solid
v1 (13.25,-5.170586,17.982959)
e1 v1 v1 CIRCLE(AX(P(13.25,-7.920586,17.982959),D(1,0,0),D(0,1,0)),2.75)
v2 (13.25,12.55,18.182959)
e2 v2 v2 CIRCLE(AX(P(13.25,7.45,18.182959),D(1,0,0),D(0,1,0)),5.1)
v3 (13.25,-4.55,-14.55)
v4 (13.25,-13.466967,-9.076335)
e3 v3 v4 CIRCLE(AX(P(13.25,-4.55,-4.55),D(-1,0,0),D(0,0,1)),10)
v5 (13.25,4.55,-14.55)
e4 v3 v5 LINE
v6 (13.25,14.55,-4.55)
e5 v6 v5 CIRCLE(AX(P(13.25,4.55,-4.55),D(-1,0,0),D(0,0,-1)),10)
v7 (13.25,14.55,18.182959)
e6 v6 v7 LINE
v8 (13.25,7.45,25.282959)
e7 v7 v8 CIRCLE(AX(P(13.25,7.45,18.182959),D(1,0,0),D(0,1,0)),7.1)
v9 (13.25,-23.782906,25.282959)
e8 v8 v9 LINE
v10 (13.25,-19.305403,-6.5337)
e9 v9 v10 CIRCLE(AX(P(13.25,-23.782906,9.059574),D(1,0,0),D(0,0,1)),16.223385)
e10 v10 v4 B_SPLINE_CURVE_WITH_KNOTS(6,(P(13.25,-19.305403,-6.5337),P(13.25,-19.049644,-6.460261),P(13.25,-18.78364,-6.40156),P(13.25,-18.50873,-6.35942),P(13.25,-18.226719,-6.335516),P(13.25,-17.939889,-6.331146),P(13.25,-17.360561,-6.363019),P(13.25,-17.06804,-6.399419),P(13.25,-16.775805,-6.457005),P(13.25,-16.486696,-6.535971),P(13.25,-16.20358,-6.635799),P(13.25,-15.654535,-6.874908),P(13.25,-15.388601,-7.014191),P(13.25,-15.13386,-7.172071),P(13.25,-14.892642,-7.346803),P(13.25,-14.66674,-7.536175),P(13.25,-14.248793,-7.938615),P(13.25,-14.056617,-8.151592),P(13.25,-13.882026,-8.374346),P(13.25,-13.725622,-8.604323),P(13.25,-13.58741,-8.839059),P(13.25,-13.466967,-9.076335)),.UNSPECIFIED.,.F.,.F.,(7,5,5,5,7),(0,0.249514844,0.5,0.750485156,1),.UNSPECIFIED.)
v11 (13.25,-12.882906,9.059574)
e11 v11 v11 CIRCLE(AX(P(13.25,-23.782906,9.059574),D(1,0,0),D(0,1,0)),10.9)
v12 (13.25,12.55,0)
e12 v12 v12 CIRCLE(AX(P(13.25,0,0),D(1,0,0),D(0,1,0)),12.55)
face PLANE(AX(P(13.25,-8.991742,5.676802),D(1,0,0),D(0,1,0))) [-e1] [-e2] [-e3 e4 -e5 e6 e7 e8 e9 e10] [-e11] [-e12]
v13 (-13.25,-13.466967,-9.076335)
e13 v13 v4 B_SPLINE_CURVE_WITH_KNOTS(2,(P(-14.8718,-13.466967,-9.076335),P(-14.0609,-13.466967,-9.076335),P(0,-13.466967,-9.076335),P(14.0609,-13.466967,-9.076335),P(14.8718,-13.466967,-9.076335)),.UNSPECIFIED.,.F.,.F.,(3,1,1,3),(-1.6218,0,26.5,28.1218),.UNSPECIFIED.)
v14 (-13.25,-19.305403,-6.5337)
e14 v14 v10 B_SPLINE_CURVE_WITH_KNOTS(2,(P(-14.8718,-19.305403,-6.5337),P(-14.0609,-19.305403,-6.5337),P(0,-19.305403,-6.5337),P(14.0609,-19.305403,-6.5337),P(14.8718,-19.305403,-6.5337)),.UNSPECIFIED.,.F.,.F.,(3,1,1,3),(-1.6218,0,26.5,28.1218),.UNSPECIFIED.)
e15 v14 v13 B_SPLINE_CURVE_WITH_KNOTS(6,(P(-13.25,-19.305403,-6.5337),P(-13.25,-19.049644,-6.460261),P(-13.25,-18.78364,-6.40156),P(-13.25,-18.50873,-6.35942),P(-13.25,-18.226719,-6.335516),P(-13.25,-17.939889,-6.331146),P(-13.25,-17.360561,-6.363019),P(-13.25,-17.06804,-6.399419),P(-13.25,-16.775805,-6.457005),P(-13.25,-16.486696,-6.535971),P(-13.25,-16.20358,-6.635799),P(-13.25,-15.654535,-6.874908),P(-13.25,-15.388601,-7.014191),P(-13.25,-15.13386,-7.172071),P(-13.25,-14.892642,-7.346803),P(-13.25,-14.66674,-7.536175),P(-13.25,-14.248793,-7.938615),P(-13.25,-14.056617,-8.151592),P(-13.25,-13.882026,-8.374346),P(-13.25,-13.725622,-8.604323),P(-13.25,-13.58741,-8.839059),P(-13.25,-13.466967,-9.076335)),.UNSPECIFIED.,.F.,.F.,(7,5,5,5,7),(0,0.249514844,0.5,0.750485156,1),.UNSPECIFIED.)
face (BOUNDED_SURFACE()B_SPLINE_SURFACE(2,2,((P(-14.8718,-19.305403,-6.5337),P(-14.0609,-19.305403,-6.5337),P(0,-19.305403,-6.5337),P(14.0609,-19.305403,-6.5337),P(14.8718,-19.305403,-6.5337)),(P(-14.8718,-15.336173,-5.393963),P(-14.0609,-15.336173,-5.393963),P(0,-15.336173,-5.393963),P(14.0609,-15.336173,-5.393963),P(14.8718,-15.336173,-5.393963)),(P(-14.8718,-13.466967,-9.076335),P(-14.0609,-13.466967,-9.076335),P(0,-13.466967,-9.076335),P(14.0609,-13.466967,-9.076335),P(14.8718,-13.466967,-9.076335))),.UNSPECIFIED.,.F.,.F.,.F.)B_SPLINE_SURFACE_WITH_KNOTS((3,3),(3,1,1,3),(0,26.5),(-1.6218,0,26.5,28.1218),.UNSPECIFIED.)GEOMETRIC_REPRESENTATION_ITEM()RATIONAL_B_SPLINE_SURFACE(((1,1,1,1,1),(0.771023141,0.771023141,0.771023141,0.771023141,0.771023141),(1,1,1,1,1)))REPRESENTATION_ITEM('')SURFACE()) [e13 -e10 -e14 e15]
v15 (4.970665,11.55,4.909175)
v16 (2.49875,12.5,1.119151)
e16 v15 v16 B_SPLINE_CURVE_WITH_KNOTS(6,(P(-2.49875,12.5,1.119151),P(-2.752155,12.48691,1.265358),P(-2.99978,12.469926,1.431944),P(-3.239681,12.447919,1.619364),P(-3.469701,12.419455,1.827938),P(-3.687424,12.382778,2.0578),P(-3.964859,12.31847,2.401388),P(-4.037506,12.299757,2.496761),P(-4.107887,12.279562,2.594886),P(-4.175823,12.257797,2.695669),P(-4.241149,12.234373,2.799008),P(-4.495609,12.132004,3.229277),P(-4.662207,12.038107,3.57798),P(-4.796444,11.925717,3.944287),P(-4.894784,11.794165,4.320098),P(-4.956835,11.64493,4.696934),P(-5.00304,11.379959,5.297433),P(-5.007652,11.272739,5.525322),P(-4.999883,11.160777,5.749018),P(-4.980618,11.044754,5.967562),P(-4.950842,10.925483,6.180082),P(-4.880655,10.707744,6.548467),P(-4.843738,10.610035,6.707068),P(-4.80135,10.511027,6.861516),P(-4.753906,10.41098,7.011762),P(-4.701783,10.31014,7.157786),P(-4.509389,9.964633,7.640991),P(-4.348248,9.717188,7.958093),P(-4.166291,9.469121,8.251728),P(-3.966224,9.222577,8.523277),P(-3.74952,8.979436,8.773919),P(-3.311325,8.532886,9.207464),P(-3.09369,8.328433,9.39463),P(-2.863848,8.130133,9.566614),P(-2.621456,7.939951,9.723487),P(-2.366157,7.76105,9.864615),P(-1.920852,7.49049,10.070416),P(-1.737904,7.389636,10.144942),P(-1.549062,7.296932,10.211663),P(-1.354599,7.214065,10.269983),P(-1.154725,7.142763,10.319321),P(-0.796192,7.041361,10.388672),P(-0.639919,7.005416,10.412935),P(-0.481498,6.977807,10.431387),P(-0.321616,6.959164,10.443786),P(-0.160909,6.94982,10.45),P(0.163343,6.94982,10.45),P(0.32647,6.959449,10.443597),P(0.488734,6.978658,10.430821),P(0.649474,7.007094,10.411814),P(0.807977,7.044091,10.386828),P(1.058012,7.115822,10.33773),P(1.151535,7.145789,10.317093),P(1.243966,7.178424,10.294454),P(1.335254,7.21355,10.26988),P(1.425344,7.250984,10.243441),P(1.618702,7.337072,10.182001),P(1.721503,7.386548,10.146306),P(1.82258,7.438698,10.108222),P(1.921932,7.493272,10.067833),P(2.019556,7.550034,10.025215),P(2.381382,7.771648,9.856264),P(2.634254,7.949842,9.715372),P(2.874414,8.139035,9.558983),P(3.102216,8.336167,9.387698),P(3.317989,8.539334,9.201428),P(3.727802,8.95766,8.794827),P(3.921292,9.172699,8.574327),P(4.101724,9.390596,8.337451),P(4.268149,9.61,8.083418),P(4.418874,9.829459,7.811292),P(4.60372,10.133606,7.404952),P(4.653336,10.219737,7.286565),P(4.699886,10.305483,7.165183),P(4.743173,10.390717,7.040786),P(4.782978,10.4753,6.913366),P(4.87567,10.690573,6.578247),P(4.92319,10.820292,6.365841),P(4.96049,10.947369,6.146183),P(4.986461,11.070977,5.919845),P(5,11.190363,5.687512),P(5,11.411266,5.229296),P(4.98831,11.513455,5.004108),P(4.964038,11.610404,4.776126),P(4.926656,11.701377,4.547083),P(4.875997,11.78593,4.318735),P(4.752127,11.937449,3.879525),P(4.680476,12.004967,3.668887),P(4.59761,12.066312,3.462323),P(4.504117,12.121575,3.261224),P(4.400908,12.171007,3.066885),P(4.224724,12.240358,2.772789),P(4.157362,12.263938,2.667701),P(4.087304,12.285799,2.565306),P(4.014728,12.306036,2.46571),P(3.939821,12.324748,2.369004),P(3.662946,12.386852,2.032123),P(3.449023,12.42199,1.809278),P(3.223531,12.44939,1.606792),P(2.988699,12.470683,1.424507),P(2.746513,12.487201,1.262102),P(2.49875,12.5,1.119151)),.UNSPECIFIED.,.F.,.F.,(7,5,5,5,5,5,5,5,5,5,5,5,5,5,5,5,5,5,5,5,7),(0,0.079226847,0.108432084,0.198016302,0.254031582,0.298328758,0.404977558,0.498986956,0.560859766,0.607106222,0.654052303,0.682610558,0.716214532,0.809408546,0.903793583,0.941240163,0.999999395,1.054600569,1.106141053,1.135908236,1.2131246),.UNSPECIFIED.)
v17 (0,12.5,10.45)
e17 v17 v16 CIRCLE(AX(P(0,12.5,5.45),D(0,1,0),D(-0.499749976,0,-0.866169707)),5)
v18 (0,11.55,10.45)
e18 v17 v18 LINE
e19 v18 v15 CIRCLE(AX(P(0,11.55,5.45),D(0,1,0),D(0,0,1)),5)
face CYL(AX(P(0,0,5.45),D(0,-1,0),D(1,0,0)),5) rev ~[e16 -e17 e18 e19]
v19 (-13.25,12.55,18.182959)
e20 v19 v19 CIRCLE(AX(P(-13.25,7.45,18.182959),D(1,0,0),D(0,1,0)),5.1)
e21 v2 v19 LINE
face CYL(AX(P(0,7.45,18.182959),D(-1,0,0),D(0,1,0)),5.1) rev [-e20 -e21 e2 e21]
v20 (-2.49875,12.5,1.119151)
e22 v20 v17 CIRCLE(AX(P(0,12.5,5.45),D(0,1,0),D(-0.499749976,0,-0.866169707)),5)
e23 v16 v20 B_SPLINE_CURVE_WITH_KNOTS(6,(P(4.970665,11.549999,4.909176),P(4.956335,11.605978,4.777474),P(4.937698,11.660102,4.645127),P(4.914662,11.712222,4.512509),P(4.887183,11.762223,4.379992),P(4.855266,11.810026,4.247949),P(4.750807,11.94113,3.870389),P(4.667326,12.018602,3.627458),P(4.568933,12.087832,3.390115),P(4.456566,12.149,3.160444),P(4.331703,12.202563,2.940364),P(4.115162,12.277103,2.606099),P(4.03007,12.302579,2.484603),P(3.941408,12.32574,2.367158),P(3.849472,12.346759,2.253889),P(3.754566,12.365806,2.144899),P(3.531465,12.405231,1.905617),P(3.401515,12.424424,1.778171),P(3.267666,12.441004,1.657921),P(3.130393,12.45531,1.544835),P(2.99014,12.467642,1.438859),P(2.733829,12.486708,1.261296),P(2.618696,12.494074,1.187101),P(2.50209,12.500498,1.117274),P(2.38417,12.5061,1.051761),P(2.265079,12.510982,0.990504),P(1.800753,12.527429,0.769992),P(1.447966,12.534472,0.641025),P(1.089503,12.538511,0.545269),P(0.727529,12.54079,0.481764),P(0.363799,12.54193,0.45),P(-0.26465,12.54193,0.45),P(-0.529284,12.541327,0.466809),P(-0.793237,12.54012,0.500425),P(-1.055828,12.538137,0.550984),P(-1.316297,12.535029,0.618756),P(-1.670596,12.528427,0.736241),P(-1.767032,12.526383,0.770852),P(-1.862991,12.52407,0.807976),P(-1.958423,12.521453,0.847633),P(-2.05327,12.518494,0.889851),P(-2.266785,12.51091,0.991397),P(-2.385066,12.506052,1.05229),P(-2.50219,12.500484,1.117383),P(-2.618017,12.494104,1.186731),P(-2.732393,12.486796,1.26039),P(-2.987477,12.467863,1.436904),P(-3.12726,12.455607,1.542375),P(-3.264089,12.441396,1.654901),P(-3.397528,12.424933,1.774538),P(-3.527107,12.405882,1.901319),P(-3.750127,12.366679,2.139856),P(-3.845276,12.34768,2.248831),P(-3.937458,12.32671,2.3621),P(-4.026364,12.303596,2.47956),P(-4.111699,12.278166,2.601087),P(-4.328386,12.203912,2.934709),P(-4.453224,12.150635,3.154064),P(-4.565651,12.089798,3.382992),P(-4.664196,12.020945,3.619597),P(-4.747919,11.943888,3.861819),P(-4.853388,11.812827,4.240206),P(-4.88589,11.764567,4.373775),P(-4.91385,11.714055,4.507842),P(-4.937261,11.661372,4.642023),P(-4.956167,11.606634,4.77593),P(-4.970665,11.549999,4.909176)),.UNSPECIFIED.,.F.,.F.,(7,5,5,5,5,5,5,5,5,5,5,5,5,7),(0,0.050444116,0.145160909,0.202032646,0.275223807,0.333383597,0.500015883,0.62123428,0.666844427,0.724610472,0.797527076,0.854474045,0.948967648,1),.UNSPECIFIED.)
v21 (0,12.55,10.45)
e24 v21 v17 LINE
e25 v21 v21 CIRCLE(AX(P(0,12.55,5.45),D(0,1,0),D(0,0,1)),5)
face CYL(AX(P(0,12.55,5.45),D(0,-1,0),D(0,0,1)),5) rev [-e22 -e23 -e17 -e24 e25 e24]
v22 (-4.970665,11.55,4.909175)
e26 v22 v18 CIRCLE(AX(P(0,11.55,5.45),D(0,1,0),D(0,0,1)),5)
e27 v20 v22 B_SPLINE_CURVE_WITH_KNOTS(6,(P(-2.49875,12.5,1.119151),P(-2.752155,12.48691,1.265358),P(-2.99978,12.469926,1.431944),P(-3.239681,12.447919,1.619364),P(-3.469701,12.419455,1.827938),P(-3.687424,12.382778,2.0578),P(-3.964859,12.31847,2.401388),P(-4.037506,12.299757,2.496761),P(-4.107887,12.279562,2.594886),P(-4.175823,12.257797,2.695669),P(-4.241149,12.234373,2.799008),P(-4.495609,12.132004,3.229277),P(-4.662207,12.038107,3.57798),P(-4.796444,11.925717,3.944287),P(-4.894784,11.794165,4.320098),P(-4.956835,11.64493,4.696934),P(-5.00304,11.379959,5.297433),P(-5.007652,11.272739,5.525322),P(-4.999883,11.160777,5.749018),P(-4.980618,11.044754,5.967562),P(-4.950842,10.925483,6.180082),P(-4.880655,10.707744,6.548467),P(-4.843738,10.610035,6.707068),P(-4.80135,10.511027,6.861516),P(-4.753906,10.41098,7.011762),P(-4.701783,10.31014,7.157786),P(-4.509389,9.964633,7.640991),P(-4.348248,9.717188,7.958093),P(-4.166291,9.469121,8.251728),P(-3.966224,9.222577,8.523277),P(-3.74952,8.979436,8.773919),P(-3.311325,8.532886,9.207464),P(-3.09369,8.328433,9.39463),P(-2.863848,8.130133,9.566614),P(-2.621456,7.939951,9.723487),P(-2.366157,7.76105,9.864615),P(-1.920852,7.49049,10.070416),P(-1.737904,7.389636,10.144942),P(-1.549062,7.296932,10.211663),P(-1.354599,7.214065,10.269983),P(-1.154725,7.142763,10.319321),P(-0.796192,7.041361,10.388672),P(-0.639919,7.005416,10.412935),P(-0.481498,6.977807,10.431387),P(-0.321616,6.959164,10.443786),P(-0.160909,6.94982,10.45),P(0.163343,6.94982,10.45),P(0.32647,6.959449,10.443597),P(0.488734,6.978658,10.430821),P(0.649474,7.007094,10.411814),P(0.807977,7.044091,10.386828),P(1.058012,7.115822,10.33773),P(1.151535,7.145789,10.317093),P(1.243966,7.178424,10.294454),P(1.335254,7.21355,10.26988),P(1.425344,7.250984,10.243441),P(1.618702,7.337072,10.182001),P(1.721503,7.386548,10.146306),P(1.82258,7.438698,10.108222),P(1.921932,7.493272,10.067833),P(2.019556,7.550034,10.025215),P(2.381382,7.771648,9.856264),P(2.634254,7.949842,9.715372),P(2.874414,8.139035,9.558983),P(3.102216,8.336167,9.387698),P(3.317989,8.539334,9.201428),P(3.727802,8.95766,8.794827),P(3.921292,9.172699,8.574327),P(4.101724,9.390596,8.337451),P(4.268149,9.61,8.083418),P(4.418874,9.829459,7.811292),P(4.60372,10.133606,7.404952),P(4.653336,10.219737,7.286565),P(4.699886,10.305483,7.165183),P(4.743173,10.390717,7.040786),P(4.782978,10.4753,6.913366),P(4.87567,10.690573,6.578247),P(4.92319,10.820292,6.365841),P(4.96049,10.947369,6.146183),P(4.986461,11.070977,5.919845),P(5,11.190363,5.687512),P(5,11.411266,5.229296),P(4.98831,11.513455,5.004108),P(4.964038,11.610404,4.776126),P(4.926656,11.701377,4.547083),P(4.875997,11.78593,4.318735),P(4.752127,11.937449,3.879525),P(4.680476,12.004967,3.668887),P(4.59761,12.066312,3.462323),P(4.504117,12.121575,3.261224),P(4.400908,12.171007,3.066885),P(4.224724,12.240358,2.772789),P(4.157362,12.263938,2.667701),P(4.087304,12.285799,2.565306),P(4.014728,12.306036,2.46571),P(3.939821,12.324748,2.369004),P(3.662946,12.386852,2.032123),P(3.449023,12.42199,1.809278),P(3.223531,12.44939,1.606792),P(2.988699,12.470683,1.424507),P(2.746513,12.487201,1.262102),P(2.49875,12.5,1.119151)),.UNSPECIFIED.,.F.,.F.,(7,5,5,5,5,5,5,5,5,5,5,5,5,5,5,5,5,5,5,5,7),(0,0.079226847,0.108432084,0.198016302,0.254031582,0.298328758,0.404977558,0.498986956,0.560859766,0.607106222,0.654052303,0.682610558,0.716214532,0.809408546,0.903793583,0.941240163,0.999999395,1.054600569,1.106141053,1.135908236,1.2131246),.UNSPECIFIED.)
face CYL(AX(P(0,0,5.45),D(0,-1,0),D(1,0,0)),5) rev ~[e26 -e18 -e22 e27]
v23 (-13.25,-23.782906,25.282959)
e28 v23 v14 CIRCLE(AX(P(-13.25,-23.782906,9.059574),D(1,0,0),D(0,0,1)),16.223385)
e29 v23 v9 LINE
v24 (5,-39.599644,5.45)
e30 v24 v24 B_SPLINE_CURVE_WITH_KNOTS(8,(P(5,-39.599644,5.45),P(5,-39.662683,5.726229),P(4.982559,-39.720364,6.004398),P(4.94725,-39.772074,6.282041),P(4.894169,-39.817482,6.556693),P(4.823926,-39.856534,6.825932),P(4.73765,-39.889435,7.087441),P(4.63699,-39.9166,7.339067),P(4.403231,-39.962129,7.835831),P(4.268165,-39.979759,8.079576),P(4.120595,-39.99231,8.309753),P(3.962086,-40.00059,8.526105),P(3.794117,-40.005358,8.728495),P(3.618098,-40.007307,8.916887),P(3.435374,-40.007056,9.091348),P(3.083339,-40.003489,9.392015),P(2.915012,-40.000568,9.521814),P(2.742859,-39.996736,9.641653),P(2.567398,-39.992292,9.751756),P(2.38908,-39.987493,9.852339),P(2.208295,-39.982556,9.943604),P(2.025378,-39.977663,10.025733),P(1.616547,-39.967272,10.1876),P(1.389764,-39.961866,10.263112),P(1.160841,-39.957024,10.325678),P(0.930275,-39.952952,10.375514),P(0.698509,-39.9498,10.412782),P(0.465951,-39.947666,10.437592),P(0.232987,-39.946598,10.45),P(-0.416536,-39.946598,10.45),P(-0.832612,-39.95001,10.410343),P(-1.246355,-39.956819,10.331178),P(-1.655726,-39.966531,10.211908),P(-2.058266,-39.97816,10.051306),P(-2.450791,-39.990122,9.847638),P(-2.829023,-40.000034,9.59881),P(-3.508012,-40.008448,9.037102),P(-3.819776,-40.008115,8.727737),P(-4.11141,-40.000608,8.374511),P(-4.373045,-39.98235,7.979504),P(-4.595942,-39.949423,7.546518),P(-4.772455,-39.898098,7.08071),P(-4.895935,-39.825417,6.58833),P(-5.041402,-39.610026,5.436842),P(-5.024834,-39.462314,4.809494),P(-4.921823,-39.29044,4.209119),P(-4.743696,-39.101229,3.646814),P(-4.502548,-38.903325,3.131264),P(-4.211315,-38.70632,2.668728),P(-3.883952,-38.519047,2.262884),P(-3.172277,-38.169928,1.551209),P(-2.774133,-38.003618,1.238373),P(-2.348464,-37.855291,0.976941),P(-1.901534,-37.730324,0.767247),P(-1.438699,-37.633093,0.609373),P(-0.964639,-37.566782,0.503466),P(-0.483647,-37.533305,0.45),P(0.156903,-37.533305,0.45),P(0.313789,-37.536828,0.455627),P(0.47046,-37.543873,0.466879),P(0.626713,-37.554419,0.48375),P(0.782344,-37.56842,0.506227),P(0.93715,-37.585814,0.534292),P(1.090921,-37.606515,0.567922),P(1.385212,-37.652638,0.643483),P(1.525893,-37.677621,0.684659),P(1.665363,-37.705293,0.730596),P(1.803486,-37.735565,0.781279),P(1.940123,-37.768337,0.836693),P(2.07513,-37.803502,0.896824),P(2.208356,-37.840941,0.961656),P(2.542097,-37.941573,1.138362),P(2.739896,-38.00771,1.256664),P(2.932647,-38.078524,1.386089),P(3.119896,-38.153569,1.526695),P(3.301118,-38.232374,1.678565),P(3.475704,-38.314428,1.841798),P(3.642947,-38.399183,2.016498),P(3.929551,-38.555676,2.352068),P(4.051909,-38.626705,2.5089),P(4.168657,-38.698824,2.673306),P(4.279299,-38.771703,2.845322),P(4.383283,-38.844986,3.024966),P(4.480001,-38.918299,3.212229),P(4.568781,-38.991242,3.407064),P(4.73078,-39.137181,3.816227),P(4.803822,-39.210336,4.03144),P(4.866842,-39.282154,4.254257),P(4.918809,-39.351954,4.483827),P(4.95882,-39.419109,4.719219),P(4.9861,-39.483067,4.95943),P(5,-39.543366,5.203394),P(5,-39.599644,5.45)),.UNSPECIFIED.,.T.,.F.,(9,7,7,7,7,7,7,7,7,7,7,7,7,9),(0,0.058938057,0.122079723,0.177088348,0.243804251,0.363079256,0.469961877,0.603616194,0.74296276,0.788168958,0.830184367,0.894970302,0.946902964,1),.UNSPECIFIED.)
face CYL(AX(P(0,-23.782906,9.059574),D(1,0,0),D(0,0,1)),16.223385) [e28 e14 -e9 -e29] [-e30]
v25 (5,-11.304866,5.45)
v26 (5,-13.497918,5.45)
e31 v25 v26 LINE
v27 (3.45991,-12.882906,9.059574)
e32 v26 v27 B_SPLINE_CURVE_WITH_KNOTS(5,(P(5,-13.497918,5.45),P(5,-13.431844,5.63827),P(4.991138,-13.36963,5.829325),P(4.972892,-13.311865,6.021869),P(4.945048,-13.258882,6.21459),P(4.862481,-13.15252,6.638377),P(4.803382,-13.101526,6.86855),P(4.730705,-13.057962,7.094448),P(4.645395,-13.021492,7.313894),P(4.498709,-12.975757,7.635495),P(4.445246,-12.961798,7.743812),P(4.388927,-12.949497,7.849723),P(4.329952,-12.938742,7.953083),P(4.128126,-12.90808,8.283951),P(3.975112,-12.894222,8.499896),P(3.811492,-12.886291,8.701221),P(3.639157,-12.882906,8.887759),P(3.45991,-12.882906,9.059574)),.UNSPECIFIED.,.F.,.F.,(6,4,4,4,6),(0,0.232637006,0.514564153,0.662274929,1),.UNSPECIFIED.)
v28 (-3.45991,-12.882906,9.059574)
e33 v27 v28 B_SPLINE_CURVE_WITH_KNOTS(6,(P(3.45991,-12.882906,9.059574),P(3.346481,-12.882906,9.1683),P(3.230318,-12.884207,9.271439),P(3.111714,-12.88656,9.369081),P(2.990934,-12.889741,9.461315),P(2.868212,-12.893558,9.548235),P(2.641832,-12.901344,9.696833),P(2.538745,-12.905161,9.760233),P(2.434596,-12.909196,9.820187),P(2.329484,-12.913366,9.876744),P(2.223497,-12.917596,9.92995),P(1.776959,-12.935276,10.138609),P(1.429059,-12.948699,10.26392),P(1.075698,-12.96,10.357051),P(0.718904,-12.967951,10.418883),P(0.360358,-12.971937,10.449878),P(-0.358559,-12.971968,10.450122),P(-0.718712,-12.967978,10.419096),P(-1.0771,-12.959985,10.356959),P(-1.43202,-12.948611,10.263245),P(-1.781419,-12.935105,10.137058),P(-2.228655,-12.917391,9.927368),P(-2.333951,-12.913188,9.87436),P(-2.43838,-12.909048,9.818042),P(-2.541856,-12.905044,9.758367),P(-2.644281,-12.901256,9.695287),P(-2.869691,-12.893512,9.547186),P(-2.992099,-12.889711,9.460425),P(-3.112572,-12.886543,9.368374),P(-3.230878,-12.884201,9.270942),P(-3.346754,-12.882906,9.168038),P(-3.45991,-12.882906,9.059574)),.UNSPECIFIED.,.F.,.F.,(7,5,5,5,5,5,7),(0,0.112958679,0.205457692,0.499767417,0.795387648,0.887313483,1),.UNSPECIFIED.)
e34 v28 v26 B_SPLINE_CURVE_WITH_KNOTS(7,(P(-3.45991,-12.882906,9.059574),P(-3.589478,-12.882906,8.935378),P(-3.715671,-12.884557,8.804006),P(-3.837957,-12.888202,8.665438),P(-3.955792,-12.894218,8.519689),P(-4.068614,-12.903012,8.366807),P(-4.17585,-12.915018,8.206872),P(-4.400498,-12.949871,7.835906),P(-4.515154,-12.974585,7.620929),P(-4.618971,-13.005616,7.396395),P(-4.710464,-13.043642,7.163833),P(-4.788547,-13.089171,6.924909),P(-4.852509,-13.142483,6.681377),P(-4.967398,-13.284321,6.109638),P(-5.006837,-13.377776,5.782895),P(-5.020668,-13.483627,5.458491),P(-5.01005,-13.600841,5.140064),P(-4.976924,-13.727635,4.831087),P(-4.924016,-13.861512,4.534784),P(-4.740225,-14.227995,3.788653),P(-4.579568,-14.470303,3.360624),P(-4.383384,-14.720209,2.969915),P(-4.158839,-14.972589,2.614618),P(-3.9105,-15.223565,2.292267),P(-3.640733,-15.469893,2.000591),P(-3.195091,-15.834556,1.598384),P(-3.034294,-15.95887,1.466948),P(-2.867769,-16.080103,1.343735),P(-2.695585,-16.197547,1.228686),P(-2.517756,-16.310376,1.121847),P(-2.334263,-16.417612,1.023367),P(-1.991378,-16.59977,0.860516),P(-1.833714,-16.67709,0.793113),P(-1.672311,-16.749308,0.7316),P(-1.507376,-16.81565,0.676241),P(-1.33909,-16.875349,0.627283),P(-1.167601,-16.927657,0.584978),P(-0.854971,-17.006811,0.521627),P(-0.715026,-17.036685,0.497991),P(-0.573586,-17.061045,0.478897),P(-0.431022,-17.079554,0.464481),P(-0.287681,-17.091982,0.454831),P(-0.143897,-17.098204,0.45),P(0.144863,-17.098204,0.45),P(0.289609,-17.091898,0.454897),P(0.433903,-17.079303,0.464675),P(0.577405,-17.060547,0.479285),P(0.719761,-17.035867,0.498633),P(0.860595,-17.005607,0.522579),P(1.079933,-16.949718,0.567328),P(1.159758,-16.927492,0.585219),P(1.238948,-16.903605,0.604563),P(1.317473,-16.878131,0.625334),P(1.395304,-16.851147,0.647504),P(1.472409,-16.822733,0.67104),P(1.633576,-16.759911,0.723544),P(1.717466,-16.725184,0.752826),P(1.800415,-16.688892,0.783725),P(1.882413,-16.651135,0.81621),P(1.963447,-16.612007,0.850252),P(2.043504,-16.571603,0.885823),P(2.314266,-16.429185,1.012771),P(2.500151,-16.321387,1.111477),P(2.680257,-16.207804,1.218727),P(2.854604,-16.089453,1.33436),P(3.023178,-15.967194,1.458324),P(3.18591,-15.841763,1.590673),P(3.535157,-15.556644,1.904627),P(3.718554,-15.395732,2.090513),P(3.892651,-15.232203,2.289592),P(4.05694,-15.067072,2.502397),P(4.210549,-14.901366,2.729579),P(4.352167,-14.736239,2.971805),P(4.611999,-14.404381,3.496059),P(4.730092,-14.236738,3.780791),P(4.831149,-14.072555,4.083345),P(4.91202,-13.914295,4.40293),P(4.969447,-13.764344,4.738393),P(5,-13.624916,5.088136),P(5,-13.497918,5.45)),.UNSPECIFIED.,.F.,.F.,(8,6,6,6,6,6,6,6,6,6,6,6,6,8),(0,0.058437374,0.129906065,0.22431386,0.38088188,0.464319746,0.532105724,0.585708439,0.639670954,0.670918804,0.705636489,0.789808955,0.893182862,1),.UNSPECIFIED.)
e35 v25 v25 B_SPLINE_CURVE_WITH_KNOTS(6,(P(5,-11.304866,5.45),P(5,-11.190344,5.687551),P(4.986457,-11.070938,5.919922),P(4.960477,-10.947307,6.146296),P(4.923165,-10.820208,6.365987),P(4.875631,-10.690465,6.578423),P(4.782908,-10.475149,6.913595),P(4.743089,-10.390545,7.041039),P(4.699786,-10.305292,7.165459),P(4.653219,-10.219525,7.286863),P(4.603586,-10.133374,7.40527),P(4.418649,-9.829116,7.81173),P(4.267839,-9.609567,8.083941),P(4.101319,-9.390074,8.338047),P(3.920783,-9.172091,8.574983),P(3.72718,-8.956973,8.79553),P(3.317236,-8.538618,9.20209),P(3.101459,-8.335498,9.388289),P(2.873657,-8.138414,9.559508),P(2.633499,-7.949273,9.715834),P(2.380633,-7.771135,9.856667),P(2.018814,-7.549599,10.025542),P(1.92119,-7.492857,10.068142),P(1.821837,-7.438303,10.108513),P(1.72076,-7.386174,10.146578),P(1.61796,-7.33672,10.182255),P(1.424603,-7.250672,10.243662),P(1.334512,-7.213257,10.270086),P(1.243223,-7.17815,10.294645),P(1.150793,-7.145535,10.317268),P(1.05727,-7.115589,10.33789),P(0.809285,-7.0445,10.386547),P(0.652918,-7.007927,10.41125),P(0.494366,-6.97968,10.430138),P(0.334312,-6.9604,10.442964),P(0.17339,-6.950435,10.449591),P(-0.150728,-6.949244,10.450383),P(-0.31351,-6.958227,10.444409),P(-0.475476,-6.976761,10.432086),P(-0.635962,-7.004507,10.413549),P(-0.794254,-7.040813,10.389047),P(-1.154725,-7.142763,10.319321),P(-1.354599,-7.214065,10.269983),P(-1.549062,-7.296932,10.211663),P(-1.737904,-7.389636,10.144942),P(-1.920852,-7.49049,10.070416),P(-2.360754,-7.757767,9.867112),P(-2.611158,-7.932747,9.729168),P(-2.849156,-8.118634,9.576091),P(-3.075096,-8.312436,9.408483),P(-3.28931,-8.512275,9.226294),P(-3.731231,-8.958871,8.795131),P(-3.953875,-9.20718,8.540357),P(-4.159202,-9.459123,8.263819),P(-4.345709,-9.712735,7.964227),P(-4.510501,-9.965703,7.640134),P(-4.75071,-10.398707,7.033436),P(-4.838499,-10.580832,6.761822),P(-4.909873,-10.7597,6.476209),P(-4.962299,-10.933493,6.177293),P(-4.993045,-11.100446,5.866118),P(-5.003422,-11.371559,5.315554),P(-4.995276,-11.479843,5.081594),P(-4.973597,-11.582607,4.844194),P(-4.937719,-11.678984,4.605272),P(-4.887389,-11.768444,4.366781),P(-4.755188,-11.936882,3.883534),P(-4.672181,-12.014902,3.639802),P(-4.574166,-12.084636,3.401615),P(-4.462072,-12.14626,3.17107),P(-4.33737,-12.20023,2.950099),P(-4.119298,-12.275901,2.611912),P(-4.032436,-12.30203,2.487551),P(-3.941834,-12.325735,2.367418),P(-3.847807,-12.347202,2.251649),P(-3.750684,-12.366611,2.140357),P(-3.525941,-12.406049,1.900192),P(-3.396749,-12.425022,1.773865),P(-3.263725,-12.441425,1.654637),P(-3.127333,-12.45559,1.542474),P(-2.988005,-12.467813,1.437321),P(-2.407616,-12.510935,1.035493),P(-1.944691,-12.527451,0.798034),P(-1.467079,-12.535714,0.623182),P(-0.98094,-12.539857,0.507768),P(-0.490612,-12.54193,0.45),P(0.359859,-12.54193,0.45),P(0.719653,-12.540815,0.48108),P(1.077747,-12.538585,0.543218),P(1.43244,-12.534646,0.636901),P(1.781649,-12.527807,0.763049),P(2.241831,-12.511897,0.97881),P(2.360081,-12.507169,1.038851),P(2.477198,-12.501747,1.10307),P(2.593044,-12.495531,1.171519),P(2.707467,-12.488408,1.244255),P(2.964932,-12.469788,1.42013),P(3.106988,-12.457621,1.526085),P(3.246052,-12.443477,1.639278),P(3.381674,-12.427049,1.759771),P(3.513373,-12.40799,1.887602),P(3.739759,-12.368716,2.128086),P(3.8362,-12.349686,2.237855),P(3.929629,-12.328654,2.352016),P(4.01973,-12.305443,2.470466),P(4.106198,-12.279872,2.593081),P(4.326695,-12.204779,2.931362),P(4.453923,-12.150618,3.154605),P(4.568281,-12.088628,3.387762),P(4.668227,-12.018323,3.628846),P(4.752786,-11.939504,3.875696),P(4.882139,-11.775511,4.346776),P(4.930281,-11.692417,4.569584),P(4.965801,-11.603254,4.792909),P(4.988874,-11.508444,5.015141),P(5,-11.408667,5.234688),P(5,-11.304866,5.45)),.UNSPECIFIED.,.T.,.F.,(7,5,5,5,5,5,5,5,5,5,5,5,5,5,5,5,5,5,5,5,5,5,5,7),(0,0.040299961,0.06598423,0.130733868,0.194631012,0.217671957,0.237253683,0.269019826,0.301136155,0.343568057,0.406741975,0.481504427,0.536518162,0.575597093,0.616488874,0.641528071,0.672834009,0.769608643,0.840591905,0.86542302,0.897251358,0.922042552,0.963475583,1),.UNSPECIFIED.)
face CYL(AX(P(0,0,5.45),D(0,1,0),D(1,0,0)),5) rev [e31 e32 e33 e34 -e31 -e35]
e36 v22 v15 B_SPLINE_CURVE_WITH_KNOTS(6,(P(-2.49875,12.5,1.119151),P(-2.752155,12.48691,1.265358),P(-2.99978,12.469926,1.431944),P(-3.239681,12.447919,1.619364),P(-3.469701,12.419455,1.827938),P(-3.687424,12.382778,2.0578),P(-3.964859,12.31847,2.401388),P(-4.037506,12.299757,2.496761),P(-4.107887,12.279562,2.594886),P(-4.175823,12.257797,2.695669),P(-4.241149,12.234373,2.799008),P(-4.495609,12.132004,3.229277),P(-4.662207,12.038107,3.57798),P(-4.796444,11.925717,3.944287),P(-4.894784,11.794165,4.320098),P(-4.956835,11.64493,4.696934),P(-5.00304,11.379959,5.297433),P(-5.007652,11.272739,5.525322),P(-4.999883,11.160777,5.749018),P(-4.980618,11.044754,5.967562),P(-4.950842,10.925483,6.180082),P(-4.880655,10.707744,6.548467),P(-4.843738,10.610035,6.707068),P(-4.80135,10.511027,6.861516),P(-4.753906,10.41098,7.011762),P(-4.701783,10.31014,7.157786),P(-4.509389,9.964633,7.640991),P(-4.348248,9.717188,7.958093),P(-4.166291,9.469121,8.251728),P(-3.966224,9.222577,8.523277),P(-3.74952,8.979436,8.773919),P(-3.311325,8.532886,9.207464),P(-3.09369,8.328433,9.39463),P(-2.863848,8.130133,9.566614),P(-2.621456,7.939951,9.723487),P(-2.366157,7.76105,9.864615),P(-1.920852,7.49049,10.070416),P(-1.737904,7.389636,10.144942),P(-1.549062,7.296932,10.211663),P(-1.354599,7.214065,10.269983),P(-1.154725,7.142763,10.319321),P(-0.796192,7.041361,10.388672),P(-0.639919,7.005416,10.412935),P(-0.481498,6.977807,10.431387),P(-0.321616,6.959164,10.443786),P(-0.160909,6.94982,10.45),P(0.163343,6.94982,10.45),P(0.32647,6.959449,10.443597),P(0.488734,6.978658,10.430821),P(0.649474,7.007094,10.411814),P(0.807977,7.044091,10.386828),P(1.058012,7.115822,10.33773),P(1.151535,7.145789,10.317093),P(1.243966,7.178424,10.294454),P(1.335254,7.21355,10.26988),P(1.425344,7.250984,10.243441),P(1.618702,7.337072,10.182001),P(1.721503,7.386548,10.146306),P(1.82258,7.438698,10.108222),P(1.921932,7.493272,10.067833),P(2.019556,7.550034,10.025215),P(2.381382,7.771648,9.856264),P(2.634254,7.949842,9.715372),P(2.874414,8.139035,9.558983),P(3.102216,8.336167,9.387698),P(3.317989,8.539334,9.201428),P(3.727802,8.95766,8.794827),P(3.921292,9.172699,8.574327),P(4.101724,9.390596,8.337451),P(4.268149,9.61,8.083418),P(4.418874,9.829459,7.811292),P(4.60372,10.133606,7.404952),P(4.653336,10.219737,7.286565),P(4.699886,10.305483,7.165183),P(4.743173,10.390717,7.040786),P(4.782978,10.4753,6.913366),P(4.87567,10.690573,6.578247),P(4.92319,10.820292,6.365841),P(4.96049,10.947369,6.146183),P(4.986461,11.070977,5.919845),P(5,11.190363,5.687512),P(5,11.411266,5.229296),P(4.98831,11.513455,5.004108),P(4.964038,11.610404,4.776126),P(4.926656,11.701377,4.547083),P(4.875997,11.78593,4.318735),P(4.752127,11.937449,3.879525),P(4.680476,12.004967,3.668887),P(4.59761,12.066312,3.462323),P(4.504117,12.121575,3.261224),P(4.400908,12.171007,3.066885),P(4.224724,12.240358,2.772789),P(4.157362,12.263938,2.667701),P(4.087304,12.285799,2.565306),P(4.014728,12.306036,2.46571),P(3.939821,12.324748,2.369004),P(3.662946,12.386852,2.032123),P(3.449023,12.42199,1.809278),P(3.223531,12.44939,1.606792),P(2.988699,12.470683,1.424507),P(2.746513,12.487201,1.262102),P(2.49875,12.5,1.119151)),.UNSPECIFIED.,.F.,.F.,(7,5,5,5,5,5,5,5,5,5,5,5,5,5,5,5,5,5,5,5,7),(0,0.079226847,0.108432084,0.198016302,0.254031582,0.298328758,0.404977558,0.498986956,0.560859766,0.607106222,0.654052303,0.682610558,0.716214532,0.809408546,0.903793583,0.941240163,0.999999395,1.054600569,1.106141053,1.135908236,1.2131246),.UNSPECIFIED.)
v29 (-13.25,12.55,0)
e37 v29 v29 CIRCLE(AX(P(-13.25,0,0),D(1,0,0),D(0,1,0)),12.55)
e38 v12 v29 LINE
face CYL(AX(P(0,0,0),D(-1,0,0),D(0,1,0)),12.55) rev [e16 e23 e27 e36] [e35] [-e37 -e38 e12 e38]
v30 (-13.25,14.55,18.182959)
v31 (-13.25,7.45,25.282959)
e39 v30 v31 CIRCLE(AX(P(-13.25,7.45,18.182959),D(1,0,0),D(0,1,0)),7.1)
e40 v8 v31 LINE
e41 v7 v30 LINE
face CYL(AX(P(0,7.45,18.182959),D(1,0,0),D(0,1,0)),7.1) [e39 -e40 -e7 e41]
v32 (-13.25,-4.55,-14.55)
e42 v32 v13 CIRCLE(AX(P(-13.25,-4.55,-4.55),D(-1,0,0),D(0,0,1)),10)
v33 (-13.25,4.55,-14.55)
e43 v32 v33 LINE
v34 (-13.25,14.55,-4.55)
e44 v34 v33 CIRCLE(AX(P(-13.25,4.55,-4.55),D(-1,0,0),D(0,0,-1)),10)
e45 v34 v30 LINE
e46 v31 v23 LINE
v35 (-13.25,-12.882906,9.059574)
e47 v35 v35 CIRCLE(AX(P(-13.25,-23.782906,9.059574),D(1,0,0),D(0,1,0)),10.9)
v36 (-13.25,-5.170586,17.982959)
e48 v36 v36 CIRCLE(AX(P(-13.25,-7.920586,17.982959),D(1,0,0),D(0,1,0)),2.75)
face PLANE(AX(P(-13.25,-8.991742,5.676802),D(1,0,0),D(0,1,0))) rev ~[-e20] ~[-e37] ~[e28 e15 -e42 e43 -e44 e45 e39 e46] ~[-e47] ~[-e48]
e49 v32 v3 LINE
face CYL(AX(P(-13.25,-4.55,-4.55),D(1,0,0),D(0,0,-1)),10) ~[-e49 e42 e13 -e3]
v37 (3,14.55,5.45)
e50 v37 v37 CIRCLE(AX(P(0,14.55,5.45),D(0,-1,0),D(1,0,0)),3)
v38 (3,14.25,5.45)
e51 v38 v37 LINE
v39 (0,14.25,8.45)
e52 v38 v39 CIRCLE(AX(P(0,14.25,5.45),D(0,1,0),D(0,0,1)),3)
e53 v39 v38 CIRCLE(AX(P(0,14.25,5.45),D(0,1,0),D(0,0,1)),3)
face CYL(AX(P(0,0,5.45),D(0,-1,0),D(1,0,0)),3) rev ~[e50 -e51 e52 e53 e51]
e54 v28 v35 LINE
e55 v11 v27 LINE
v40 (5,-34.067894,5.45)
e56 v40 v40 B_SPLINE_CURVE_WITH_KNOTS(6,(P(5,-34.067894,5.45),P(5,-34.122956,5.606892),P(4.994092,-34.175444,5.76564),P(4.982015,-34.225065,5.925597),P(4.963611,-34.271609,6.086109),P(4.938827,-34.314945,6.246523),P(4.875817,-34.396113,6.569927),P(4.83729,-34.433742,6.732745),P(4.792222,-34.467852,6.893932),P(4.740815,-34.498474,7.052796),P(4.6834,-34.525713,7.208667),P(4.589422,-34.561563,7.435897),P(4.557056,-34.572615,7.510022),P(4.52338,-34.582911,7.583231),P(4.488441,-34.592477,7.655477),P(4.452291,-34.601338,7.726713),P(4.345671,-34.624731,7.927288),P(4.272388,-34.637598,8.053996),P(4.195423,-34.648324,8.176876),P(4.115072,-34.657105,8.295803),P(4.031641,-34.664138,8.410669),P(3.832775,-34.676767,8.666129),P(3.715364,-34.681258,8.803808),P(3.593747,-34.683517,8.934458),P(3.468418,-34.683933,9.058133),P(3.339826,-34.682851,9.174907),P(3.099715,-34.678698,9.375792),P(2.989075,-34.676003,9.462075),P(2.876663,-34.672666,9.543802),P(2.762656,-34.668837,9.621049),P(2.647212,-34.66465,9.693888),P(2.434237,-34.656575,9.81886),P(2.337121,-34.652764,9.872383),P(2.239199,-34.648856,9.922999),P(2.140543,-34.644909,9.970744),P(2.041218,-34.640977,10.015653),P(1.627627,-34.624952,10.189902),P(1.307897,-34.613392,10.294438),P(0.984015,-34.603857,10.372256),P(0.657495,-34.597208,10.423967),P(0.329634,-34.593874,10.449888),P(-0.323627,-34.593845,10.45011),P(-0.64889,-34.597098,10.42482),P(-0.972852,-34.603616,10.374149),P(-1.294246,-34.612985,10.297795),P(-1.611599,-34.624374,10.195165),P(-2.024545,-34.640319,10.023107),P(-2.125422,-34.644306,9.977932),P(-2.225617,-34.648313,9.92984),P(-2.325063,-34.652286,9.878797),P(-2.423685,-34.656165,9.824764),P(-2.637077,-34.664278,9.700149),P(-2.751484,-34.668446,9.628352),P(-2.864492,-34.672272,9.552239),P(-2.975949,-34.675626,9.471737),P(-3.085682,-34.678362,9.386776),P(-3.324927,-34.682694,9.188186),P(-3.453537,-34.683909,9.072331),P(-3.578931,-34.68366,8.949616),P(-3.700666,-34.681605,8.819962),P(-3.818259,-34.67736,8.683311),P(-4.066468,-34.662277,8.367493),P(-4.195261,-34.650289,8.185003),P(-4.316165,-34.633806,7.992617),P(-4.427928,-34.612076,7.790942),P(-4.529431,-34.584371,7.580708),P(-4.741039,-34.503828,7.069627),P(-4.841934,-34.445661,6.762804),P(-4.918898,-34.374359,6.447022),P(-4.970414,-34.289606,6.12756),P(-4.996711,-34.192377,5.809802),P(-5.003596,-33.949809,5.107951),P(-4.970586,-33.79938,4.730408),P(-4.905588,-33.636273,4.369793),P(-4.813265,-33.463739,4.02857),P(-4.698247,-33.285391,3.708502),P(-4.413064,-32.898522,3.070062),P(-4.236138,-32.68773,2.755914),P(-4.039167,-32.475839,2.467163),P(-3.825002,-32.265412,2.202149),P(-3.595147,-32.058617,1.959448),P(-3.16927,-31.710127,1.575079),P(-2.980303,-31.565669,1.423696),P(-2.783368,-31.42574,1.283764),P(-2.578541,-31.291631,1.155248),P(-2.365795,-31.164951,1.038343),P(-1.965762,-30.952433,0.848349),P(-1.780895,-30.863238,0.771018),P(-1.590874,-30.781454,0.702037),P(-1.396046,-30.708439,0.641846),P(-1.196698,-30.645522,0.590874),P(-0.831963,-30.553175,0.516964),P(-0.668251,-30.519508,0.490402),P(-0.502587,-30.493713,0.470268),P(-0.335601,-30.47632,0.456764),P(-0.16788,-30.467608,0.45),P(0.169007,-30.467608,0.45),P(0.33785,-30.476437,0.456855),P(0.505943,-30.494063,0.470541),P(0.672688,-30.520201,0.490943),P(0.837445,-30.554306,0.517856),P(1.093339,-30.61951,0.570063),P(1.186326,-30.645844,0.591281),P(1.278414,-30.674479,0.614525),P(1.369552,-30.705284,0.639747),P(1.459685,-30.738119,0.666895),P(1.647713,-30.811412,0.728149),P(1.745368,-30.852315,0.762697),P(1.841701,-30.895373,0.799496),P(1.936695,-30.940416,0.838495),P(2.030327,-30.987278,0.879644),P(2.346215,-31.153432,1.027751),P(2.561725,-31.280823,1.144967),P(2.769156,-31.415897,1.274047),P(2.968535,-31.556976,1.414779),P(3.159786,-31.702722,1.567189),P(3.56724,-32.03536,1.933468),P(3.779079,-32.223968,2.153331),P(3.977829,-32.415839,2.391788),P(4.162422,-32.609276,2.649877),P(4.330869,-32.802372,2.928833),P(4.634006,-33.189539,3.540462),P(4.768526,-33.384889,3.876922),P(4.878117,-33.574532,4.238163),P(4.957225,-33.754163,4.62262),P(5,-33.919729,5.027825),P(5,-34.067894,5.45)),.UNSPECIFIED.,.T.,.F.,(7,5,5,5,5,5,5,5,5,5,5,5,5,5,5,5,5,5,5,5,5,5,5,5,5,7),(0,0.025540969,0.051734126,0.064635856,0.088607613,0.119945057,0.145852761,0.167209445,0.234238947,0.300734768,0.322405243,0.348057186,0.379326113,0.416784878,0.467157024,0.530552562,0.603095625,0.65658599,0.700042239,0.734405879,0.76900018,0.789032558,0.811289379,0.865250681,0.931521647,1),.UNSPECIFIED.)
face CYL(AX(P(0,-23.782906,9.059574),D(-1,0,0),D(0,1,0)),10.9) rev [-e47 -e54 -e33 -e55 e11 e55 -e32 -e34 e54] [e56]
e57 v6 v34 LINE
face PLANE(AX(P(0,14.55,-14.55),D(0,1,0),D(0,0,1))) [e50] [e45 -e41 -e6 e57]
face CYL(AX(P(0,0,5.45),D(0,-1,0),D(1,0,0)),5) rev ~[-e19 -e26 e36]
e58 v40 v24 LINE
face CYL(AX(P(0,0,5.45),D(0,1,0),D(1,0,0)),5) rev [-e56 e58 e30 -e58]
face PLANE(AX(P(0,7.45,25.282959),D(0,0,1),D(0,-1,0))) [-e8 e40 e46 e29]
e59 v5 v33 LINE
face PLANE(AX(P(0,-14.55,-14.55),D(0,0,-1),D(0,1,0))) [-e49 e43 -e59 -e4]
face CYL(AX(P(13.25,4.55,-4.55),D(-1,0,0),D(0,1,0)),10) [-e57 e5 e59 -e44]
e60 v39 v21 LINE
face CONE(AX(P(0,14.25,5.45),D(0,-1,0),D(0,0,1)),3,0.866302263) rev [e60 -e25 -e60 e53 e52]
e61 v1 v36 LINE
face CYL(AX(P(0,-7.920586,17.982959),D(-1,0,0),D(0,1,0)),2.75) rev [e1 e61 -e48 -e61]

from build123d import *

# Parameters (mm, degrees)
F0_R          = 12.55
F0_R_2        = 10.9
F0_R_3        = 2.75
F0_R_4        = 5.1
F1_DEPTH      = 13.25
F2_R          = 10
F3_R          = 5
F4_R          = 3
F5_DEPTH      = 14.5510001
F5_DEPTH_BACK = 40.0072913958
F4_R_2        = 5
F6_DEPTH      = 12.5
F6_DEPTH_BACK = 40.0072913958


with BuildPart() as f1:
    # F0 (on Right) → F1 (new body, symmetric)
    with BuildSketch(Plane.YZ):
        with BuildLine():
            Line((7.45, 25.2829590551), (-23.7829060836, 25.2829590551))
            ThreePointArc((-23.7829060836, 25.2829590551), (-39.2686382031, 4.2232189691), (-14.55, -4.280278967))
            Line((-14.55, -4.280278967), (-14.55, -14.55))
            Line((-14.55, -14.55), (14.55, -14.55))
            Line((14.55, -14.55), (14.55, 18.1829590551))
            ThreePointArc((14.55, 18.1829590551), (12.4704581464, 23.2034172015), (7.45, 25.2829590551))
        make_face()
        Circle(F0_R, mode=Mode.SUBTRACT)
        with Locations((-23.7829060836, 9.059573843)):
            Circle(F0_R_2, mode=Mode.SUBTRACT)
        with Locations((-7.9205860656, 17.9829590551)):
            Circle(F0_R_3, mode=Mode.SUBTRACT)
        with Locations((7.45, 18.1829590551)):
            Circle(F0_R_4, mode=Mode.SUBTRACT)
    extrude(amount=F1_DEPTH, both=True)

    # F2
    f2_edges = [f1.edges().sort_by_distance(p)[0] for p in [
        (0, -23.782906, 25.282959),
        (0, 14.55, 18.182959),
        (0, 7.45, 25.282959),
        (0, -14.55, -14.55),
        (0, 14.55, -14.55),
    ]]
    fillet(f2_edges, radius=F2_R)

    # F3
    f3_edges = [f1.edges().sort_by_distance(p)[0] for p in [
        (0, -14.55, -4.280279),
    ]]
    fillet(f3_edges, radius=F3_R)

    # F4 (on Front) → F5 (cut, two sides)
    with BuildSketch(Plane.XZ) as f5_sk:
        with Locations((0, 5.45)):
            Circle(F4_R)
    extrude(amount=-F5_DEPTH, mode=Mode.SUBTRACT)
    extrude(f5_sk.sketch, amount=F5_DEPTH_BACK, mode=Mode.SUBTRACT)

    # F4 (on Front) → F6 (cut, two sides)
    with BuildSketch(Plane.XZ) as f6_sk:
        with Locations((0, 5.45)):
            Circle(F4_R_2)
        with Locations((0, 5.45)):
            Circle(F4_R, mode=Mode.SUBTRACT)
    extrude(amount=-F6_DEPTH, mode=Mode.SUBTRACT)
    extrude(f6_sk.sketch, amount=F6_DEPTH_BACK, mode=Mode.SUBTRACT)

    # F7 (on Right) → F8 (revolve, cut)
    with BuildSketch(Plane.YZ):
        Polygon((14.55, 5.45), (14.55, 8.45), (14.25, 8.45), (12.55, 10.45), (11.55, 10.45), (11.55, 5.45), align=None)
    revolve(axis=Axis((0, 7.275, 5.45), (0, 1, 0)), mode=Mode.SUBTRACT)


solid = f1.part
